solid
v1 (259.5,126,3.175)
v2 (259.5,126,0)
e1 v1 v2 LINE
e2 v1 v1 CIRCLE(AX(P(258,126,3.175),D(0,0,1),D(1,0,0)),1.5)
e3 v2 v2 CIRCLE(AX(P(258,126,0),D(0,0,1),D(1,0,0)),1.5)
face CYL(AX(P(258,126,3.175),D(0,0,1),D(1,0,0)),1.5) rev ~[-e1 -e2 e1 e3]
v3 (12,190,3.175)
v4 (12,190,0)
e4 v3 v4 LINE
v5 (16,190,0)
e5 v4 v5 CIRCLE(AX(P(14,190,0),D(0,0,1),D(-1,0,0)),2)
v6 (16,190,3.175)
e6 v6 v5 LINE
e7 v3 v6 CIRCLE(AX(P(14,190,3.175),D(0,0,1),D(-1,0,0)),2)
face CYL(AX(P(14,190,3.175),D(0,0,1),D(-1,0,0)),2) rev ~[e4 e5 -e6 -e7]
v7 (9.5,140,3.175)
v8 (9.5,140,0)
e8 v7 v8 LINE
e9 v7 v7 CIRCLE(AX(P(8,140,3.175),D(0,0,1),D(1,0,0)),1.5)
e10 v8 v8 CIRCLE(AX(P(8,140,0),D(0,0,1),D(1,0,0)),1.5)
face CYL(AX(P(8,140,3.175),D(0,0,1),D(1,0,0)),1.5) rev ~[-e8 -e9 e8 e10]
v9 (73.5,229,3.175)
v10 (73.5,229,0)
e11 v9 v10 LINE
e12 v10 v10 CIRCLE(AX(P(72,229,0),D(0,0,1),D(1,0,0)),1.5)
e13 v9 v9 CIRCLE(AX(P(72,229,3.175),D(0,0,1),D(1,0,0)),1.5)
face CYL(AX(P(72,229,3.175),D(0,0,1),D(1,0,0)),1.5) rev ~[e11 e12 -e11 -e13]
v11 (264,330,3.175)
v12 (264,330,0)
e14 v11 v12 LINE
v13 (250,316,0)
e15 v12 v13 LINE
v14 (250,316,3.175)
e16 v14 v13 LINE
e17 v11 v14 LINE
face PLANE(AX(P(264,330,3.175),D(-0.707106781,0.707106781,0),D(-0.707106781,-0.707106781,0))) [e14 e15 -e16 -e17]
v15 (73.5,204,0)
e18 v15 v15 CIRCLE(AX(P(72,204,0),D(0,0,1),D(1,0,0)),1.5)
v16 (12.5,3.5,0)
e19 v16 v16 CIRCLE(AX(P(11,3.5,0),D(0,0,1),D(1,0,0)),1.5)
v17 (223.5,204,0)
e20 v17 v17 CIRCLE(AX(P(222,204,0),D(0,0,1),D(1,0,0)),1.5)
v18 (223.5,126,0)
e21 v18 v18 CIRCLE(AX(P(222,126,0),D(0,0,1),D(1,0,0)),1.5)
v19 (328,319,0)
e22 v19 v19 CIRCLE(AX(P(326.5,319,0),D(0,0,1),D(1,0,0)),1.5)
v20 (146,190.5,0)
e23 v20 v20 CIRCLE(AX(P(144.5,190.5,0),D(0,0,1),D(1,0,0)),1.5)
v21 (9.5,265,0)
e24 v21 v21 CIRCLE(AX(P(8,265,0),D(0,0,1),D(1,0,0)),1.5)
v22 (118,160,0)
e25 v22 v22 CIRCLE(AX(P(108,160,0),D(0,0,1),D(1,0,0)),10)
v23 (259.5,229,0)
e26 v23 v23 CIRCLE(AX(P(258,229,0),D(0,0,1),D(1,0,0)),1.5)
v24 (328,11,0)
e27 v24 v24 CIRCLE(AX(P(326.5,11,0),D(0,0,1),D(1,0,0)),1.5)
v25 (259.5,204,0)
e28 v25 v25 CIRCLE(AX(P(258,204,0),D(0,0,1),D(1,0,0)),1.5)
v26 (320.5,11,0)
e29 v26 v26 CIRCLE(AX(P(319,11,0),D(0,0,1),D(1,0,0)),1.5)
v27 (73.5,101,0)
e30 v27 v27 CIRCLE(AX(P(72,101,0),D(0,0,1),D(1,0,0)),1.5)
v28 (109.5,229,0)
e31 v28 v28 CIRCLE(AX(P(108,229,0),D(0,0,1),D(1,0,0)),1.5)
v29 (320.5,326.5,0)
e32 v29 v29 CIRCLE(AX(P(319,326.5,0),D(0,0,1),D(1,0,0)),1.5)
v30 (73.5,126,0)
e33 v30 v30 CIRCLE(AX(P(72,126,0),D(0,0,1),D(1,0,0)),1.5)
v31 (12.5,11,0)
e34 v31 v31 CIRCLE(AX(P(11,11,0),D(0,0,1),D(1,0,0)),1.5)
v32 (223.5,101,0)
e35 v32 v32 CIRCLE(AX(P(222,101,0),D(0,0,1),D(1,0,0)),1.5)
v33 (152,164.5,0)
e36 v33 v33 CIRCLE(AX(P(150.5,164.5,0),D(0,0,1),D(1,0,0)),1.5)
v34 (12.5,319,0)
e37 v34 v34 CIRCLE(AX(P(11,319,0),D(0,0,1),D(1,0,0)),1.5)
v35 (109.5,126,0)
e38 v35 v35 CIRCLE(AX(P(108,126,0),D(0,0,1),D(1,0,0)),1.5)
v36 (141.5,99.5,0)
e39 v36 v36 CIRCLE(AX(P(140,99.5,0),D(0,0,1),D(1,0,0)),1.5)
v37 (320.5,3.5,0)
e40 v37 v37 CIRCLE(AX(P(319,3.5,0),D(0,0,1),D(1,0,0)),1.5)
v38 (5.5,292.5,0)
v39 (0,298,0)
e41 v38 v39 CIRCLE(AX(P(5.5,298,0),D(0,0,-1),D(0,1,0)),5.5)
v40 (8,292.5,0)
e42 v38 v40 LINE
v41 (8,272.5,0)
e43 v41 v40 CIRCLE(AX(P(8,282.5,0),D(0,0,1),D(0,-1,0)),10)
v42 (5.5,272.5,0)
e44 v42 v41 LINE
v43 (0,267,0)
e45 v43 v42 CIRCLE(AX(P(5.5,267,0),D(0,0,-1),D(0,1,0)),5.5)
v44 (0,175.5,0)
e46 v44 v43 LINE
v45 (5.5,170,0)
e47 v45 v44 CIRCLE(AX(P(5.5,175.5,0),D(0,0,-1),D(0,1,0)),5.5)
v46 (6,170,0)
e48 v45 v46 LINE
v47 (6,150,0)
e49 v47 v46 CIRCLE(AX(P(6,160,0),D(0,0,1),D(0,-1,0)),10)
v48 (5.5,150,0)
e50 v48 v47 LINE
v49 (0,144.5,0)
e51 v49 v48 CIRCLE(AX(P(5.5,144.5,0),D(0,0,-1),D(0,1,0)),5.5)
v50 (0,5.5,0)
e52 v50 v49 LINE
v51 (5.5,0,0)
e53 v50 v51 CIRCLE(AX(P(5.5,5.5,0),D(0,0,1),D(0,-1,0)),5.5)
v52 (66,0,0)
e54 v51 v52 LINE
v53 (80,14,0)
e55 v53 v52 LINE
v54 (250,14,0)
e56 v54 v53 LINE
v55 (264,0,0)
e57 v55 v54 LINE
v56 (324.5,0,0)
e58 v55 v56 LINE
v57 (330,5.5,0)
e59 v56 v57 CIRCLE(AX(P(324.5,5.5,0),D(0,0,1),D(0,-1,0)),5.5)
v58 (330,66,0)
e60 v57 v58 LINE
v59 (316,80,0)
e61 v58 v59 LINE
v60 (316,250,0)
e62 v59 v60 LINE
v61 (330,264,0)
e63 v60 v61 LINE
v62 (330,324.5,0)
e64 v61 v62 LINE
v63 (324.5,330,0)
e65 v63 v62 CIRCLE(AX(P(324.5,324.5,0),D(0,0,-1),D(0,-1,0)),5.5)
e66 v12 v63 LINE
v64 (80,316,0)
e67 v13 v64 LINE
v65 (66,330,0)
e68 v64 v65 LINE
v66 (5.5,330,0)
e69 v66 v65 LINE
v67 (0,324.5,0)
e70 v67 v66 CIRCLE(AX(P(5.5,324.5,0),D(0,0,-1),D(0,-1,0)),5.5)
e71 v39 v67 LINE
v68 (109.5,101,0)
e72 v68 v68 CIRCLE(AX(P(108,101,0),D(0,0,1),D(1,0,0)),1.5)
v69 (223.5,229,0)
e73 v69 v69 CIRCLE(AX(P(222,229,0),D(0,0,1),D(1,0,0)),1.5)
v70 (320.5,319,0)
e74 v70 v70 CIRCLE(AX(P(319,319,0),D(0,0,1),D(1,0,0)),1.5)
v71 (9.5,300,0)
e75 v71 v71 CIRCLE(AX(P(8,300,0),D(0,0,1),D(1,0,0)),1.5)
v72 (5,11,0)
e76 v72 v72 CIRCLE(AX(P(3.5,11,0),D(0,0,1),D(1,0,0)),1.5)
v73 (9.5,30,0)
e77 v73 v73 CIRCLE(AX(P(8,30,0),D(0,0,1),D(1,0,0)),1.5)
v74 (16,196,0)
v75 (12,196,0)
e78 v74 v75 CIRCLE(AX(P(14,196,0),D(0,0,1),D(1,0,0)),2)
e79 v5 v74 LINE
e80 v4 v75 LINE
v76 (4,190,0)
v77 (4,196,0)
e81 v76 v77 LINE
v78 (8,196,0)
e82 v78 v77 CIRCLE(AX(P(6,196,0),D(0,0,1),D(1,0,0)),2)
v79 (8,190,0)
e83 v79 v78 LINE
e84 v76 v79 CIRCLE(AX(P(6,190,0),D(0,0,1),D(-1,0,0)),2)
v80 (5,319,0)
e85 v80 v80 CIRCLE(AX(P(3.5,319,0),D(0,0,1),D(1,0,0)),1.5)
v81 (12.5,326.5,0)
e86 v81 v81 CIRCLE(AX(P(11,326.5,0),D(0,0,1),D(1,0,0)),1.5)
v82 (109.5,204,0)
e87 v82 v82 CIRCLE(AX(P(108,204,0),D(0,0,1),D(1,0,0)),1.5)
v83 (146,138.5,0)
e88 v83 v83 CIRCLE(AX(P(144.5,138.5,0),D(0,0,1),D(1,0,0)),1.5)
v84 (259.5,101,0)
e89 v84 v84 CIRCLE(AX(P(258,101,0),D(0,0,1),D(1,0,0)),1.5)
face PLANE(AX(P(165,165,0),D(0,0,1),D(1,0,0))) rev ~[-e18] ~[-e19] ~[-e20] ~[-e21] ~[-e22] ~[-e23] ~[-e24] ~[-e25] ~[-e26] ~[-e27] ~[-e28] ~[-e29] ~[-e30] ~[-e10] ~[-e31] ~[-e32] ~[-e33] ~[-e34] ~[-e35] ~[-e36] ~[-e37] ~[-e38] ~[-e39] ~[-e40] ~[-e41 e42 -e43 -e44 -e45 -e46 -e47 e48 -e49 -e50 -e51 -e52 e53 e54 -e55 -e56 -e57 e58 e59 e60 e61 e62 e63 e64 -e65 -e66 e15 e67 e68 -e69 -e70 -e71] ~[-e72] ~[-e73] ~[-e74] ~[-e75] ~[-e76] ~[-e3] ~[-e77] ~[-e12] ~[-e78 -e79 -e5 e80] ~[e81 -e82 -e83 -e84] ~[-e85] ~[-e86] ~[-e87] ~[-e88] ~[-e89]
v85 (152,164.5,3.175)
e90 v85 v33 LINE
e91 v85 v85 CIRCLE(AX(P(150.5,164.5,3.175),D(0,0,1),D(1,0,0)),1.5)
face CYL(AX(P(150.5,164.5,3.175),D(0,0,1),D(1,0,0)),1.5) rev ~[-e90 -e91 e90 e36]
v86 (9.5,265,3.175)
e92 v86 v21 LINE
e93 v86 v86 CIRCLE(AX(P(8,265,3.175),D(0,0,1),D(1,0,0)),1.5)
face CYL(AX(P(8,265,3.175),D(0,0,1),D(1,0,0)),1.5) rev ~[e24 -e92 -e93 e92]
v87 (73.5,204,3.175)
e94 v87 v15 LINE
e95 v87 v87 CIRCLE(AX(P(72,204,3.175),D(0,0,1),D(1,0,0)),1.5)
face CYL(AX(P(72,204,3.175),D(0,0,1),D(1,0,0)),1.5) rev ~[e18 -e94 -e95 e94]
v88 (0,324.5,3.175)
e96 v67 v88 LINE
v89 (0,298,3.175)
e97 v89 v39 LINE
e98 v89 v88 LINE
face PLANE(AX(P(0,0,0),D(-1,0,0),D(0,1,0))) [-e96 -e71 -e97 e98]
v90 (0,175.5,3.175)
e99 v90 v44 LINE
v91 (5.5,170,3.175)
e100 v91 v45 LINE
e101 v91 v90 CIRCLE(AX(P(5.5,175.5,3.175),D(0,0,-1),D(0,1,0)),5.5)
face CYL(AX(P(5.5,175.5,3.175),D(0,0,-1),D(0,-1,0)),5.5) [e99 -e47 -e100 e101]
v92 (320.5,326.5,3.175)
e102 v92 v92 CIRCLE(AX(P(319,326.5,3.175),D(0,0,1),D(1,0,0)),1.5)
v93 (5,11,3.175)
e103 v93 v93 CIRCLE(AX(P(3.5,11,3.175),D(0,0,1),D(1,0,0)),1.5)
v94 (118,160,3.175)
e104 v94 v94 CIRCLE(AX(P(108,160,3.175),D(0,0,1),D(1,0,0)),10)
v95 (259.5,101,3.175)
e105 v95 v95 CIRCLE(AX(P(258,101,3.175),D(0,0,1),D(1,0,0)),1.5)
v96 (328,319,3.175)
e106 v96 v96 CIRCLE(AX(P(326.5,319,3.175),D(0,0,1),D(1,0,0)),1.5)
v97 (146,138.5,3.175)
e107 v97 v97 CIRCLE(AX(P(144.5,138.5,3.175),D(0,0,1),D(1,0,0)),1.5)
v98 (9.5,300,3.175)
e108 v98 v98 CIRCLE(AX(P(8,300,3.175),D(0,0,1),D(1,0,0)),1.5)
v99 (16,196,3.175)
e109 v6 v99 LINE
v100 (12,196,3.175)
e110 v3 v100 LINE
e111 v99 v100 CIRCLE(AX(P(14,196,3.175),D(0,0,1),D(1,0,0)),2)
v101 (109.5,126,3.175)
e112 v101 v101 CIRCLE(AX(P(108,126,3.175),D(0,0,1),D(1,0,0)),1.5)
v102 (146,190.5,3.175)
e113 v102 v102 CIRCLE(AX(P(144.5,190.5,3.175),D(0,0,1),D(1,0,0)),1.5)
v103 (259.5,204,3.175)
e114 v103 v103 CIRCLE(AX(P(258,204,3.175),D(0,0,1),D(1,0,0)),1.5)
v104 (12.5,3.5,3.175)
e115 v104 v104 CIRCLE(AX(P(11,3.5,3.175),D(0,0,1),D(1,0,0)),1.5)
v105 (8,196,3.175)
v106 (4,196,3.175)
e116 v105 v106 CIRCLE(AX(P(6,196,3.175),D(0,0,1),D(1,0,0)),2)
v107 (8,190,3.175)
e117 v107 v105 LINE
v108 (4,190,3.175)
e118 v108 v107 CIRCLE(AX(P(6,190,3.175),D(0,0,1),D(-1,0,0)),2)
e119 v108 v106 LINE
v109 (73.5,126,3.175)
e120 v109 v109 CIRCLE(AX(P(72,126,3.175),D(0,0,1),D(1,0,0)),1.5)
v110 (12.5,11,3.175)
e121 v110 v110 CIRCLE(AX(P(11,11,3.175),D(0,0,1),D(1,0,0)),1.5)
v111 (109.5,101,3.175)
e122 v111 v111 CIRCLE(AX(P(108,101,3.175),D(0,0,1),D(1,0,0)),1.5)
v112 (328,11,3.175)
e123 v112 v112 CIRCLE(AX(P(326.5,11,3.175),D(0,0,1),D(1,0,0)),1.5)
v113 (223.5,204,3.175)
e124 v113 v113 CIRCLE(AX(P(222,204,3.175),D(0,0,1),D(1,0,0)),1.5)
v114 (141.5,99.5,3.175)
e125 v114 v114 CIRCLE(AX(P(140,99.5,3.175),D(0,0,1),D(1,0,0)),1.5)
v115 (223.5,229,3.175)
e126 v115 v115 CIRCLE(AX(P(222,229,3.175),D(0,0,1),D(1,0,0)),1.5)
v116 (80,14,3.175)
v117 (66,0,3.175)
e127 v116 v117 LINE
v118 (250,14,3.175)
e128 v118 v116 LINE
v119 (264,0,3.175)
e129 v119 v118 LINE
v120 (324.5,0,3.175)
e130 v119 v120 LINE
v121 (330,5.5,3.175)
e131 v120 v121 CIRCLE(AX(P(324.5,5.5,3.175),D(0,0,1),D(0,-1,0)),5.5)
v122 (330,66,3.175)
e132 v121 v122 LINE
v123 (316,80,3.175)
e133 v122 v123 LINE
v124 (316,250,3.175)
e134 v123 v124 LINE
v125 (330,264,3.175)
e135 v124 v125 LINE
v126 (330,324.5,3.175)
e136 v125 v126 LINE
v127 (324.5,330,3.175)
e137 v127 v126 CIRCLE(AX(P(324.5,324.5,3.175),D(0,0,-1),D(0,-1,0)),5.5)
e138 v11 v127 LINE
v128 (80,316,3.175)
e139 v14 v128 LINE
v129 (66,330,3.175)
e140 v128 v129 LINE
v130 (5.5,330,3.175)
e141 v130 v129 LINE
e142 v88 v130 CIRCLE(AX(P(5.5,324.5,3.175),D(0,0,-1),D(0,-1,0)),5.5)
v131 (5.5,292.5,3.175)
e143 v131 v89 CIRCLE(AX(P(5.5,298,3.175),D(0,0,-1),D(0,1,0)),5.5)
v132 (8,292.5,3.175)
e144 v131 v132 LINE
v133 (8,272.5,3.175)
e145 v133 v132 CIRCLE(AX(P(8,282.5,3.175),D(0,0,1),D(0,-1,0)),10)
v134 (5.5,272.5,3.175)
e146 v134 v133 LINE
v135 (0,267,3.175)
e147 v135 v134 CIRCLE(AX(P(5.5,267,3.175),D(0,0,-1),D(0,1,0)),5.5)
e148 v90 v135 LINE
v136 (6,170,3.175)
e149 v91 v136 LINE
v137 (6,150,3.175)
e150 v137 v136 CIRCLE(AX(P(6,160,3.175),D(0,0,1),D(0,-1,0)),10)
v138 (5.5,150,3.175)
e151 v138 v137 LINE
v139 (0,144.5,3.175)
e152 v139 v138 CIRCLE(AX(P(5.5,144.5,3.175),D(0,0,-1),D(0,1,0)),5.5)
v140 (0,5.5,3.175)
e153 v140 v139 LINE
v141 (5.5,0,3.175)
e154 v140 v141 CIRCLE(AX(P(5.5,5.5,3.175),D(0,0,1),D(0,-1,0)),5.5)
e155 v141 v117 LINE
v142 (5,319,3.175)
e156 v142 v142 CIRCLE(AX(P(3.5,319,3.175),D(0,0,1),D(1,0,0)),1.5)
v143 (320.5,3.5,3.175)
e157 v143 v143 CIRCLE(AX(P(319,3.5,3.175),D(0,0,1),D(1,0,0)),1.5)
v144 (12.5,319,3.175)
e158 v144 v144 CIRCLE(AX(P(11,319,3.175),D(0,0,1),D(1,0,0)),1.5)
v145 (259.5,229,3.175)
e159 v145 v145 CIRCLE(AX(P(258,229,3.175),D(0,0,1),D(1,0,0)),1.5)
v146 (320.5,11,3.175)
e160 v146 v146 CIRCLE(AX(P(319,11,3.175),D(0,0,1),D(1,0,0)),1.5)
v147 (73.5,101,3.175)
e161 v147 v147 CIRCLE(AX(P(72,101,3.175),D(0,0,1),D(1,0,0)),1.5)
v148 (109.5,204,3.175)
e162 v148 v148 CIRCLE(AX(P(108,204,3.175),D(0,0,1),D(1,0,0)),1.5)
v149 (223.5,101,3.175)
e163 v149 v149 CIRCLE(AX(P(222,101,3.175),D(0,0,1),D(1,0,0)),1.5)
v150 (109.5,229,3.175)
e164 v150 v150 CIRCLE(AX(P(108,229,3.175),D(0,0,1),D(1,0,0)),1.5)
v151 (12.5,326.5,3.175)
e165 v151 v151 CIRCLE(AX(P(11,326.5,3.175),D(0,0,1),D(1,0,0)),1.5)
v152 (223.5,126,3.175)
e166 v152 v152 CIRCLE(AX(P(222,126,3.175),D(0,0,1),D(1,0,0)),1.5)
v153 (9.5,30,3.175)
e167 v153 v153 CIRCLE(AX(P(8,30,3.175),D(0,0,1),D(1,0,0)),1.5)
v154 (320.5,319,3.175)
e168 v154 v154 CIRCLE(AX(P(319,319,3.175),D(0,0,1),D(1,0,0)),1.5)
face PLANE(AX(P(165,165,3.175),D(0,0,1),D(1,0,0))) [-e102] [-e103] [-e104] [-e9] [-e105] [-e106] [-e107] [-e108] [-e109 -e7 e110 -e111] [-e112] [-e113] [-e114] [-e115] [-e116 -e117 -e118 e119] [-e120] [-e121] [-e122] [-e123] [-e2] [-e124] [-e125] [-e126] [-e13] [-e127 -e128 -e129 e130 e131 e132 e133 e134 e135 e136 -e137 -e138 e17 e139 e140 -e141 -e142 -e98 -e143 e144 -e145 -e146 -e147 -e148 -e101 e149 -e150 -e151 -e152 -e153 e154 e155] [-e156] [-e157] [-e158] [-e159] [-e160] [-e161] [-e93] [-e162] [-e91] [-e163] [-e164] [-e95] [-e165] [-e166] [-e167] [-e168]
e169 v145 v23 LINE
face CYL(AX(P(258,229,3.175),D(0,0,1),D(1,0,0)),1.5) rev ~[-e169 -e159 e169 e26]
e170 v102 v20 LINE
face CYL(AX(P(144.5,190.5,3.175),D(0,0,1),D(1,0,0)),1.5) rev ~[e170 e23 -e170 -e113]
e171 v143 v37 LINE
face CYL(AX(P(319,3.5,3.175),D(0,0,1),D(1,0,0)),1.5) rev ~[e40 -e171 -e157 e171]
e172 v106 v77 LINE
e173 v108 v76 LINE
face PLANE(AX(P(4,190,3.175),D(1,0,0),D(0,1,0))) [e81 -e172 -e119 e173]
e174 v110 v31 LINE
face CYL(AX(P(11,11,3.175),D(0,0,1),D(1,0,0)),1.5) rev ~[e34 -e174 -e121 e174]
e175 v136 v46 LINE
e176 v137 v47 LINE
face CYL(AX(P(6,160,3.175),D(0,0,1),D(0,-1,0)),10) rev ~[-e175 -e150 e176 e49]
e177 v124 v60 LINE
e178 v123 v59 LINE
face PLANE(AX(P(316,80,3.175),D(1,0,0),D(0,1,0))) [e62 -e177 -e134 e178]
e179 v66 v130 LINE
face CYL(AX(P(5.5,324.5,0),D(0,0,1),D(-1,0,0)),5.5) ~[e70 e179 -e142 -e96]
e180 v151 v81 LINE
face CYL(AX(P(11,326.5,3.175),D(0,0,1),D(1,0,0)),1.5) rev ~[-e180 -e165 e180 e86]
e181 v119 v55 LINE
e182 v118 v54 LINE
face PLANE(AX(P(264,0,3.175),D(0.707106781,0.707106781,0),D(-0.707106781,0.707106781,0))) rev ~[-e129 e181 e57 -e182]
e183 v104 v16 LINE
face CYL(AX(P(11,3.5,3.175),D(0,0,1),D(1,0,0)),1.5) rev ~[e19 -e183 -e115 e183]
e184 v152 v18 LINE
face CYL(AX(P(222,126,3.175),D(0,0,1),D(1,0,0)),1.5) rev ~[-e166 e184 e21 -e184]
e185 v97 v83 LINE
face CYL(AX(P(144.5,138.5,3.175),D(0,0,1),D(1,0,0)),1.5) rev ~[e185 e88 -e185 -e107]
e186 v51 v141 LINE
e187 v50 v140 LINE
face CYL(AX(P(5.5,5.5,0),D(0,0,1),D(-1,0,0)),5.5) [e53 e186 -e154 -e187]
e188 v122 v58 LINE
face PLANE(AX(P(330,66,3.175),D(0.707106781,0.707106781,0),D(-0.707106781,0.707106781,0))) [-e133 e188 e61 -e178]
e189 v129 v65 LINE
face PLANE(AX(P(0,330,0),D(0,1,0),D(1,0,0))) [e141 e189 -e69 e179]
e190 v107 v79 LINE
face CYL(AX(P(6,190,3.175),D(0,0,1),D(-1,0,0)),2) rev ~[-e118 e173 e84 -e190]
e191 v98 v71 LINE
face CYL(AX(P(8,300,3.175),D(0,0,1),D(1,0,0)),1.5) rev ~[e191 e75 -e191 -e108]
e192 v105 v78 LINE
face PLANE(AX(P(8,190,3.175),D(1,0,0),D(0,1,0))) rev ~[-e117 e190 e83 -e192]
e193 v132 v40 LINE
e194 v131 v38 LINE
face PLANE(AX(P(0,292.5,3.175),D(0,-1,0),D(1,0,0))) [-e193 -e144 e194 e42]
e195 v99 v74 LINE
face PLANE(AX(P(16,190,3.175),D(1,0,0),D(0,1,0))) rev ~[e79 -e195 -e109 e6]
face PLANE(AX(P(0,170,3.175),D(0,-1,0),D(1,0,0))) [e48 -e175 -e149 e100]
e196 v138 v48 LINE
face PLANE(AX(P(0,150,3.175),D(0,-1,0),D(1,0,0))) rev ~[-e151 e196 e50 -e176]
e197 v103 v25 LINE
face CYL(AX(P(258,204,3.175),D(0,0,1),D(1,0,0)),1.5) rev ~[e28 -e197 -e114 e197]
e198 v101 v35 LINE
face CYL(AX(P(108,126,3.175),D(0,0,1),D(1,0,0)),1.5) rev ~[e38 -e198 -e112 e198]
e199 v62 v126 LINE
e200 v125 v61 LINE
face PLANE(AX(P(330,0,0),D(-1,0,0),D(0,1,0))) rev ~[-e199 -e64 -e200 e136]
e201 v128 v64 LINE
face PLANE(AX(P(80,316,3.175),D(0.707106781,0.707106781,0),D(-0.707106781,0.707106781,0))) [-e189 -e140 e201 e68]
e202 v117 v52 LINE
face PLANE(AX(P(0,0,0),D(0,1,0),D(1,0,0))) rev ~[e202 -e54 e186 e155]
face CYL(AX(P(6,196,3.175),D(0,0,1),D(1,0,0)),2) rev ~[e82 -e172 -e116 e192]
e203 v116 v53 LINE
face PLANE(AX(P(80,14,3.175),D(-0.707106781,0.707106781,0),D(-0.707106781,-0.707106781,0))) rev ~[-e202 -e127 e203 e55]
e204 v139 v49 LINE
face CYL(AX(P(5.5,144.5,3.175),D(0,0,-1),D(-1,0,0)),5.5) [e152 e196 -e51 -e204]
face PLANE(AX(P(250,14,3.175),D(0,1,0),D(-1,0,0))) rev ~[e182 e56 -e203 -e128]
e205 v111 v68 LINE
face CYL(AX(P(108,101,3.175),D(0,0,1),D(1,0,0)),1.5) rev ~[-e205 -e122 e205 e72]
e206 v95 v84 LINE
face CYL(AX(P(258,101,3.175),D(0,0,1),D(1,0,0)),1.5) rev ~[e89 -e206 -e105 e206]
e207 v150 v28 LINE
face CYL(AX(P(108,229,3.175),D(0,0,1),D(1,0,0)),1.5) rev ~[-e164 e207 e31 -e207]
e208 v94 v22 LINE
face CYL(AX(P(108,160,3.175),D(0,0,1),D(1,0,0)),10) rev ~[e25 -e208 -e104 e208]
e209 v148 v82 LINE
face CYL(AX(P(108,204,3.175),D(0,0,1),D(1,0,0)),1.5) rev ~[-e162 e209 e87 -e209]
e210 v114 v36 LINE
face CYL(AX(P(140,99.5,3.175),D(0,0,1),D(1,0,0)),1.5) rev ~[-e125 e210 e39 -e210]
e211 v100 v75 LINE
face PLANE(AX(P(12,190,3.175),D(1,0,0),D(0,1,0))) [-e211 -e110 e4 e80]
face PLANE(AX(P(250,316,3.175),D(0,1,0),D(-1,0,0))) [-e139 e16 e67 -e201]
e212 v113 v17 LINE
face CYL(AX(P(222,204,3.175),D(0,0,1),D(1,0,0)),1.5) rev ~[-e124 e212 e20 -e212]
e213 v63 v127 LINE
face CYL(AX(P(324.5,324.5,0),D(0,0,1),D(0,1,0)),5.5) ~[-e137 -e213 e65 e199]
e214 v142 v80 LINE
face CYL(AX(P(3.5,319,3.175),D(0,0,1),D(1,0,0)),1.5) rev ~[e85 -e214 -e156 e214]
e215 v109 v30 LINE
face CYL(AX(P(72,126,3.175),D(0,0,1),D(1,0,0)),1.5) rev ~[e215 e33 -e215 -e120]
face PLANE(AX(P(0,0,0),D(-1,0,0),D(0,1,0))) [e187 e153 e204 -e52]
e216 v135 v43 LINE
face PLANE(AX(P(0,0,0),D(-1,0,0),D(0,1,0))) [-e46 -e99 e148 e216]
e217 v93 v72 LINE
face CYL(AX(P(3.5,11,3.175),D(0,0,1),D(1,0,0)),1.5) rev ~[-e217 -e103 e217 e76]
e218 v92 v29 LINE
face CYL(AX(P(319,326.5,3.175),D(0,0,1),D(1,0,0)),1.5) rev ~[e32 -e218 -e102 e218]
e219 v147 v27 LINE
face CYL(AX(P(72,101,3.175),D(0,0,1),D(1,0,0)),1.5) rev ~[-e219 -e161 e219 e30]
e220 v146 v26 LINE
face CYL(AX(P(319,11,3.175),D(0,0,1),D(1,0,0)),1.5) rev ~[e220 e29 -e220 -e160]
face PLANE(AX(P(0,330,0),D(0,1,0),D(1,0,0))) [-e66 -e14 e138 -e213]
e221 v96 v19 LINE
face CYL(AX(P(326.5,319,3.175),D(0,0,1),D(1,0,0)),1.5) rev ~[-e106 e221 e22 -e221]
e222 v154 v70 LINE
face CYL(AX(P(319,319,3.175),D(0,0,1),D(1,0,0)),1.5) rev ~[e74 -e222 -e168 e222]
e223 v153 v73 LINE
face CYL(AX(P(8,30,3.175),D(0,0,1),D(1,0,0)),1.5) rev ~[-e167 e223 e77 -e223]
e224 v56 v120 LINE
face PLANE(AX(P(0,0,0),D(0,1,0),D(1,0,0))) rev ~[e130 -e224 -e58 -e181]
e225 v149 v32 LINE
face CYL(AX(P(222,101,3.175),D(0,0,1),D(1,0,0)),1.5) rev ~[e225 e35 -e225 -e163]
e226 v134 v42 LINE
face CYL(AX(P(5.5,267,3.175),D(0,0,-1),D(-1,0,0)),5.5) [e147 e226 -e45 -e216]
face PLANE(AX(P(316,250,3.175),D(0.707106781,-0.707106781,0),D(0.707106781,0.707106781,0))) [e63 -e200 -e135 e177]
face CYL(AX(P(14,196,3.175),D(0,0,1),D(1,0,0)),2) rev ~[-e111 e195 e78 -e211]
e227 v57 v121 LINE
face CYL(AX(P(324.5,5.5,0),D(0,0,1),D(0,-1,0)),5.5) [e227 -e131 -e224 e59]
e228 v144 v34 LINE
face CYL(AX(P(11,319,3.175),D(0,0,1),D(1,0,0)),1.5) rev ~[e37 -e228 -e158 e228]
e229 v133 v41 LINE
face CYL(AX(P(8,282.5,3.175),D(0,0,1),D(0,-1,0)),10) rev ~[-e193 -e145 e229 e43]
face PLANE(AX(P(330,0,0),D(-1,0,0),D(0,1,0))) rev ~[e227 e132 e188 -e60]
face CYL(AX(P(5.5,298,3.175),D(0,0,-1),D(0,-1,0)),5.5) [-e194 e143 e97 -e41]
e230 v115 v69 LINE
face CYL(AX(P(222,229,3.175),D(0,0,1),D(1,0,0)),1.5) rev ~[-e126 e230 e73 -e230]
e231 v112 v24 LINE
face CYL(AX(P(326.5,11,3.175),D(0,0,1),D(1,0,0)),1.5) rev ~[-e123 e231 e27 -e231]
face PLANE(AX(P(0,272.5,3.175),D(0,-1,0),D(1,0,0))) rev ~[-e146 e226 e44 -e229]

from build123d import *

# Parameters (mm, degrees)
SKETCH_W        = 330
SKETCH_H        = 330
PAD_DEPTH       = 3.175
POCKET_DEPTH    = 5
SKETCH002_R     = 1.5
POCKET001_DEPTH = 5
SKETCH003_R     = 1.5
POCKET002_DEPTH = 5
SKETCH004_R     = 1.5
POCKET003_DEPTH = 5
SKETCH005_R     = 1.5
POCKET004_DEPTH = 5
FILLET_R        = 5.5
POCKET005_DEPTH = 5
FILLET001_R     = 5.5
SKETCH008_R     = 10
POCKET006_DEPTH = 5
FILLET002_R     = 5.5


with BuildPart() as part:
    # Sketch → Pad (new body)
    with BuildSketch(Plane.XY):
        with Locations((165, 165)):
            Rectangle(SKETCH_W, SKETCH_H)
    extrude(amount=PAD_DEPTH)

    # Sketch001 → Pocket (cut)
    with BuildSketch(Plane.XY.offset(3.175)):
        Polygon((66, 0), (264, 0), (250, 14), (80, 14), align=None)
        Polygon((330, 66), (316, 80), (316, 250), (330, 264), align=None)
        Polygon((66, 330), (264, 330), (250, 316), (80, 316), align=None)
    extrude(amount=-POCKET_DEPTH, mode=Mode.SUBTRACT)

    # Sketch002 → Pocket001 (cut)
    with BuildSketch(Plane.XY.offset(3.175)):
        with Locations((140, 99.5)):
            Circle(SKETCH002_R)
        with Locations((144.5, 138.5)):
            Circle(SKETCH002_R)
        with Locations((150.5, 164.5)):
            Circle(SKETCH002_R)
        with Locations((144.5, 190.5)):
            Circle(SKETCH002_R)
    extrude(amount=-POCKET001_DEPTH, mode=Mode.SUBTRACT)

    # Sketch003 → Pocket002 (cut)
    with BuildSketch(Plane.XY.offset(3.175)):
        with Locations((108, 229)):
            Circle(SKETCH003_R)
        with Locations((72, 229)):
            Circle(SKETCH003_R)
        with Locations((72, 204)):
            Circle(SKETCH003_R)
        with Locations((108, 204)):
            Circle(SKETCH003_R)
        with Locations((222, 204)):
            Circle(SKETCH003_R)
        with Locations((222, 229)):
            Circle(SKETCH003_R)
        with Locations((258, 229)):
            Circle(SKETCH003_R)
        with Locations((258, 204)):
            Circle(SKETCH003_R)
        with Locations((258, 126)):
            Circle(SKETCH003_R)
        with Locations((222, 126)):
            Circle(SKETCH003_R)
        with Locations((222, 101)):
            Circle(SKETCH003_R)
        with Locations((258, 101)):
            Circle(SKETCH003_R)
        with Locations((108, 101)):
            Circle(SKETCH003_R)
        with Locations((108, 126)):
            Circle(SKETCH003_R)
        with Locations((72, 126)):
            Circle(SKETCH003_R)
        with Locations((72, 101)):
            Circle(SKETCH003_R)
    extrude(amount=-POCKET002_DEPTH, mode=Mode.SUBTRACT)

    # Sketch004 → Pocket003 (cut)
    with BuildSketch(Plane.XY.offset(3.175)):
        with Locations((11, 3.5)):
            Circle(SKETCH004_R)
        with Locations((11, 11)):
            Circle(SKETCH004_R)
        with Locations((3.5, 11)):
            Circle(SKETCH004_R)
        with Locations((319, 3.5)):
            Circle(SKETCH004_R)
        with Locations((319, 11)):
            Circle(SKETCH004_R)
        with Locations((326.5, 11)):
            Circle(SKETCH004_R)
        with Locations((326.5, 319)):
            Circle(SKETCH004_R)
        with Locations((319, 319)):
            Circle(SKETCH004_R)
        with Locations((319, 326.5)):
            Circle(SKETCH004_R)
        with Locations((3.5, 319)):
            Circle(SKETCH004_R)
        with Locations((11, 319)):
            Circle(SKETCH004_R)
        with Locations((11, 326.5)):
            Circle(SKETCH004_R)
    extrude(amount=-POCKET003_DEPTH, mode=Mode.SUBTRACT)

    # Sketch005 → Pocket004 (cut)
    with BuildSketch(Plane.XY.offset(3.175)):
        with Locations((8, 140)):
            Circle(SKETCH005_R)
        with Locations((8, 30)):
            Circle(SKETCH005_R)
        with Locations((8, 300)):
            Circle(SKETCH005_R)
        with Locations((8, 265)):
            Circle(SKETCH005_R)
        with BuildLine():
            ThreePointArc((4, 190), (6, 188), (8, 190))
            Line((8, 190), (8, 196))
            ThreePointArc((8, 196), (6, 198), (4, 196))
            Line((4, 190), (4, 196))
        make_face()
        with BuildLine():
            ThreePointArc((12, 190), (14, 188), (16, 190))
            Line((16, 190), (16, 196))
            ThreePointArc((16, 196), (14, 198), (12, 196))
            Line((12, 190), (12, 196))
        make_face()
    extrude(amount=-POCKET004_DEPTH, mode=Mode.SUBTRACT)

    # Fillet
    fillet_edges = [part.edges().sort_by_distance(p)[0] for p in [
        (0, 0, 1.5875),
        (330, 0, 1.5875),
        (330, 330, 1.5875),
        (0, 330, 1.5875),
    ]]
    fillet(fillet_edges, radius=FILLET_R)

    # Sketch006 → Pocket005 (cut)
    with BuildSketch(Plane.XY.offset(3.175)):
        with BuildLine():
            ThreePointArc((0, 170), (-10, 160), (0, 150))
            Line((0, 150), (6, 150))
            ThreePointArc((6, 150), (16, 160), (6, 170))
            Line((0, 170), (6, 170))
        make_face()
    extrude(amount=-POCKET005_DEPTH, mode=Mode.SUBTRACT)

    # Fillet001
    fillet001_edges = [part.edges().sort_by_distance(p)[0] for p in [
        (0, 150, 1.5875),
        (0, 170, 1.5875),
    ]]
    fillet(fillet001_edges, radius=FILLET001_R)

    # Sketch008 → Pocket006 (cut)
    with BuildSketch(Plane.XY.offset(3.175)):
        with Locations((108, 160)):
            Circle(SKETCH008_R)
        with BuildLine():
            ThreePointArc((0, 292.5), (-10, 282.5), (0, 272.5))
            Line((0, 272.5), (8, 272.5))
            ThreePointArc((8, 272.5), (18, 282.5), (8, 292.5))
            Line((0, 292.5), (8, 292.5))
        make_face()
    extrude(amount=-POCKET006_DEPTH, mode=Mode.SUBTRACT)

    # Fillet002
    fillet002_edges = [part.edges().sort_by_distance(p)[0] for p in [
        (0, 292.5, 1.5875),
        (0, 272.5, 1.5875),
    ]]
    fillet(fillet002_edges, radius=FILLET002_R)


solid = part.part
